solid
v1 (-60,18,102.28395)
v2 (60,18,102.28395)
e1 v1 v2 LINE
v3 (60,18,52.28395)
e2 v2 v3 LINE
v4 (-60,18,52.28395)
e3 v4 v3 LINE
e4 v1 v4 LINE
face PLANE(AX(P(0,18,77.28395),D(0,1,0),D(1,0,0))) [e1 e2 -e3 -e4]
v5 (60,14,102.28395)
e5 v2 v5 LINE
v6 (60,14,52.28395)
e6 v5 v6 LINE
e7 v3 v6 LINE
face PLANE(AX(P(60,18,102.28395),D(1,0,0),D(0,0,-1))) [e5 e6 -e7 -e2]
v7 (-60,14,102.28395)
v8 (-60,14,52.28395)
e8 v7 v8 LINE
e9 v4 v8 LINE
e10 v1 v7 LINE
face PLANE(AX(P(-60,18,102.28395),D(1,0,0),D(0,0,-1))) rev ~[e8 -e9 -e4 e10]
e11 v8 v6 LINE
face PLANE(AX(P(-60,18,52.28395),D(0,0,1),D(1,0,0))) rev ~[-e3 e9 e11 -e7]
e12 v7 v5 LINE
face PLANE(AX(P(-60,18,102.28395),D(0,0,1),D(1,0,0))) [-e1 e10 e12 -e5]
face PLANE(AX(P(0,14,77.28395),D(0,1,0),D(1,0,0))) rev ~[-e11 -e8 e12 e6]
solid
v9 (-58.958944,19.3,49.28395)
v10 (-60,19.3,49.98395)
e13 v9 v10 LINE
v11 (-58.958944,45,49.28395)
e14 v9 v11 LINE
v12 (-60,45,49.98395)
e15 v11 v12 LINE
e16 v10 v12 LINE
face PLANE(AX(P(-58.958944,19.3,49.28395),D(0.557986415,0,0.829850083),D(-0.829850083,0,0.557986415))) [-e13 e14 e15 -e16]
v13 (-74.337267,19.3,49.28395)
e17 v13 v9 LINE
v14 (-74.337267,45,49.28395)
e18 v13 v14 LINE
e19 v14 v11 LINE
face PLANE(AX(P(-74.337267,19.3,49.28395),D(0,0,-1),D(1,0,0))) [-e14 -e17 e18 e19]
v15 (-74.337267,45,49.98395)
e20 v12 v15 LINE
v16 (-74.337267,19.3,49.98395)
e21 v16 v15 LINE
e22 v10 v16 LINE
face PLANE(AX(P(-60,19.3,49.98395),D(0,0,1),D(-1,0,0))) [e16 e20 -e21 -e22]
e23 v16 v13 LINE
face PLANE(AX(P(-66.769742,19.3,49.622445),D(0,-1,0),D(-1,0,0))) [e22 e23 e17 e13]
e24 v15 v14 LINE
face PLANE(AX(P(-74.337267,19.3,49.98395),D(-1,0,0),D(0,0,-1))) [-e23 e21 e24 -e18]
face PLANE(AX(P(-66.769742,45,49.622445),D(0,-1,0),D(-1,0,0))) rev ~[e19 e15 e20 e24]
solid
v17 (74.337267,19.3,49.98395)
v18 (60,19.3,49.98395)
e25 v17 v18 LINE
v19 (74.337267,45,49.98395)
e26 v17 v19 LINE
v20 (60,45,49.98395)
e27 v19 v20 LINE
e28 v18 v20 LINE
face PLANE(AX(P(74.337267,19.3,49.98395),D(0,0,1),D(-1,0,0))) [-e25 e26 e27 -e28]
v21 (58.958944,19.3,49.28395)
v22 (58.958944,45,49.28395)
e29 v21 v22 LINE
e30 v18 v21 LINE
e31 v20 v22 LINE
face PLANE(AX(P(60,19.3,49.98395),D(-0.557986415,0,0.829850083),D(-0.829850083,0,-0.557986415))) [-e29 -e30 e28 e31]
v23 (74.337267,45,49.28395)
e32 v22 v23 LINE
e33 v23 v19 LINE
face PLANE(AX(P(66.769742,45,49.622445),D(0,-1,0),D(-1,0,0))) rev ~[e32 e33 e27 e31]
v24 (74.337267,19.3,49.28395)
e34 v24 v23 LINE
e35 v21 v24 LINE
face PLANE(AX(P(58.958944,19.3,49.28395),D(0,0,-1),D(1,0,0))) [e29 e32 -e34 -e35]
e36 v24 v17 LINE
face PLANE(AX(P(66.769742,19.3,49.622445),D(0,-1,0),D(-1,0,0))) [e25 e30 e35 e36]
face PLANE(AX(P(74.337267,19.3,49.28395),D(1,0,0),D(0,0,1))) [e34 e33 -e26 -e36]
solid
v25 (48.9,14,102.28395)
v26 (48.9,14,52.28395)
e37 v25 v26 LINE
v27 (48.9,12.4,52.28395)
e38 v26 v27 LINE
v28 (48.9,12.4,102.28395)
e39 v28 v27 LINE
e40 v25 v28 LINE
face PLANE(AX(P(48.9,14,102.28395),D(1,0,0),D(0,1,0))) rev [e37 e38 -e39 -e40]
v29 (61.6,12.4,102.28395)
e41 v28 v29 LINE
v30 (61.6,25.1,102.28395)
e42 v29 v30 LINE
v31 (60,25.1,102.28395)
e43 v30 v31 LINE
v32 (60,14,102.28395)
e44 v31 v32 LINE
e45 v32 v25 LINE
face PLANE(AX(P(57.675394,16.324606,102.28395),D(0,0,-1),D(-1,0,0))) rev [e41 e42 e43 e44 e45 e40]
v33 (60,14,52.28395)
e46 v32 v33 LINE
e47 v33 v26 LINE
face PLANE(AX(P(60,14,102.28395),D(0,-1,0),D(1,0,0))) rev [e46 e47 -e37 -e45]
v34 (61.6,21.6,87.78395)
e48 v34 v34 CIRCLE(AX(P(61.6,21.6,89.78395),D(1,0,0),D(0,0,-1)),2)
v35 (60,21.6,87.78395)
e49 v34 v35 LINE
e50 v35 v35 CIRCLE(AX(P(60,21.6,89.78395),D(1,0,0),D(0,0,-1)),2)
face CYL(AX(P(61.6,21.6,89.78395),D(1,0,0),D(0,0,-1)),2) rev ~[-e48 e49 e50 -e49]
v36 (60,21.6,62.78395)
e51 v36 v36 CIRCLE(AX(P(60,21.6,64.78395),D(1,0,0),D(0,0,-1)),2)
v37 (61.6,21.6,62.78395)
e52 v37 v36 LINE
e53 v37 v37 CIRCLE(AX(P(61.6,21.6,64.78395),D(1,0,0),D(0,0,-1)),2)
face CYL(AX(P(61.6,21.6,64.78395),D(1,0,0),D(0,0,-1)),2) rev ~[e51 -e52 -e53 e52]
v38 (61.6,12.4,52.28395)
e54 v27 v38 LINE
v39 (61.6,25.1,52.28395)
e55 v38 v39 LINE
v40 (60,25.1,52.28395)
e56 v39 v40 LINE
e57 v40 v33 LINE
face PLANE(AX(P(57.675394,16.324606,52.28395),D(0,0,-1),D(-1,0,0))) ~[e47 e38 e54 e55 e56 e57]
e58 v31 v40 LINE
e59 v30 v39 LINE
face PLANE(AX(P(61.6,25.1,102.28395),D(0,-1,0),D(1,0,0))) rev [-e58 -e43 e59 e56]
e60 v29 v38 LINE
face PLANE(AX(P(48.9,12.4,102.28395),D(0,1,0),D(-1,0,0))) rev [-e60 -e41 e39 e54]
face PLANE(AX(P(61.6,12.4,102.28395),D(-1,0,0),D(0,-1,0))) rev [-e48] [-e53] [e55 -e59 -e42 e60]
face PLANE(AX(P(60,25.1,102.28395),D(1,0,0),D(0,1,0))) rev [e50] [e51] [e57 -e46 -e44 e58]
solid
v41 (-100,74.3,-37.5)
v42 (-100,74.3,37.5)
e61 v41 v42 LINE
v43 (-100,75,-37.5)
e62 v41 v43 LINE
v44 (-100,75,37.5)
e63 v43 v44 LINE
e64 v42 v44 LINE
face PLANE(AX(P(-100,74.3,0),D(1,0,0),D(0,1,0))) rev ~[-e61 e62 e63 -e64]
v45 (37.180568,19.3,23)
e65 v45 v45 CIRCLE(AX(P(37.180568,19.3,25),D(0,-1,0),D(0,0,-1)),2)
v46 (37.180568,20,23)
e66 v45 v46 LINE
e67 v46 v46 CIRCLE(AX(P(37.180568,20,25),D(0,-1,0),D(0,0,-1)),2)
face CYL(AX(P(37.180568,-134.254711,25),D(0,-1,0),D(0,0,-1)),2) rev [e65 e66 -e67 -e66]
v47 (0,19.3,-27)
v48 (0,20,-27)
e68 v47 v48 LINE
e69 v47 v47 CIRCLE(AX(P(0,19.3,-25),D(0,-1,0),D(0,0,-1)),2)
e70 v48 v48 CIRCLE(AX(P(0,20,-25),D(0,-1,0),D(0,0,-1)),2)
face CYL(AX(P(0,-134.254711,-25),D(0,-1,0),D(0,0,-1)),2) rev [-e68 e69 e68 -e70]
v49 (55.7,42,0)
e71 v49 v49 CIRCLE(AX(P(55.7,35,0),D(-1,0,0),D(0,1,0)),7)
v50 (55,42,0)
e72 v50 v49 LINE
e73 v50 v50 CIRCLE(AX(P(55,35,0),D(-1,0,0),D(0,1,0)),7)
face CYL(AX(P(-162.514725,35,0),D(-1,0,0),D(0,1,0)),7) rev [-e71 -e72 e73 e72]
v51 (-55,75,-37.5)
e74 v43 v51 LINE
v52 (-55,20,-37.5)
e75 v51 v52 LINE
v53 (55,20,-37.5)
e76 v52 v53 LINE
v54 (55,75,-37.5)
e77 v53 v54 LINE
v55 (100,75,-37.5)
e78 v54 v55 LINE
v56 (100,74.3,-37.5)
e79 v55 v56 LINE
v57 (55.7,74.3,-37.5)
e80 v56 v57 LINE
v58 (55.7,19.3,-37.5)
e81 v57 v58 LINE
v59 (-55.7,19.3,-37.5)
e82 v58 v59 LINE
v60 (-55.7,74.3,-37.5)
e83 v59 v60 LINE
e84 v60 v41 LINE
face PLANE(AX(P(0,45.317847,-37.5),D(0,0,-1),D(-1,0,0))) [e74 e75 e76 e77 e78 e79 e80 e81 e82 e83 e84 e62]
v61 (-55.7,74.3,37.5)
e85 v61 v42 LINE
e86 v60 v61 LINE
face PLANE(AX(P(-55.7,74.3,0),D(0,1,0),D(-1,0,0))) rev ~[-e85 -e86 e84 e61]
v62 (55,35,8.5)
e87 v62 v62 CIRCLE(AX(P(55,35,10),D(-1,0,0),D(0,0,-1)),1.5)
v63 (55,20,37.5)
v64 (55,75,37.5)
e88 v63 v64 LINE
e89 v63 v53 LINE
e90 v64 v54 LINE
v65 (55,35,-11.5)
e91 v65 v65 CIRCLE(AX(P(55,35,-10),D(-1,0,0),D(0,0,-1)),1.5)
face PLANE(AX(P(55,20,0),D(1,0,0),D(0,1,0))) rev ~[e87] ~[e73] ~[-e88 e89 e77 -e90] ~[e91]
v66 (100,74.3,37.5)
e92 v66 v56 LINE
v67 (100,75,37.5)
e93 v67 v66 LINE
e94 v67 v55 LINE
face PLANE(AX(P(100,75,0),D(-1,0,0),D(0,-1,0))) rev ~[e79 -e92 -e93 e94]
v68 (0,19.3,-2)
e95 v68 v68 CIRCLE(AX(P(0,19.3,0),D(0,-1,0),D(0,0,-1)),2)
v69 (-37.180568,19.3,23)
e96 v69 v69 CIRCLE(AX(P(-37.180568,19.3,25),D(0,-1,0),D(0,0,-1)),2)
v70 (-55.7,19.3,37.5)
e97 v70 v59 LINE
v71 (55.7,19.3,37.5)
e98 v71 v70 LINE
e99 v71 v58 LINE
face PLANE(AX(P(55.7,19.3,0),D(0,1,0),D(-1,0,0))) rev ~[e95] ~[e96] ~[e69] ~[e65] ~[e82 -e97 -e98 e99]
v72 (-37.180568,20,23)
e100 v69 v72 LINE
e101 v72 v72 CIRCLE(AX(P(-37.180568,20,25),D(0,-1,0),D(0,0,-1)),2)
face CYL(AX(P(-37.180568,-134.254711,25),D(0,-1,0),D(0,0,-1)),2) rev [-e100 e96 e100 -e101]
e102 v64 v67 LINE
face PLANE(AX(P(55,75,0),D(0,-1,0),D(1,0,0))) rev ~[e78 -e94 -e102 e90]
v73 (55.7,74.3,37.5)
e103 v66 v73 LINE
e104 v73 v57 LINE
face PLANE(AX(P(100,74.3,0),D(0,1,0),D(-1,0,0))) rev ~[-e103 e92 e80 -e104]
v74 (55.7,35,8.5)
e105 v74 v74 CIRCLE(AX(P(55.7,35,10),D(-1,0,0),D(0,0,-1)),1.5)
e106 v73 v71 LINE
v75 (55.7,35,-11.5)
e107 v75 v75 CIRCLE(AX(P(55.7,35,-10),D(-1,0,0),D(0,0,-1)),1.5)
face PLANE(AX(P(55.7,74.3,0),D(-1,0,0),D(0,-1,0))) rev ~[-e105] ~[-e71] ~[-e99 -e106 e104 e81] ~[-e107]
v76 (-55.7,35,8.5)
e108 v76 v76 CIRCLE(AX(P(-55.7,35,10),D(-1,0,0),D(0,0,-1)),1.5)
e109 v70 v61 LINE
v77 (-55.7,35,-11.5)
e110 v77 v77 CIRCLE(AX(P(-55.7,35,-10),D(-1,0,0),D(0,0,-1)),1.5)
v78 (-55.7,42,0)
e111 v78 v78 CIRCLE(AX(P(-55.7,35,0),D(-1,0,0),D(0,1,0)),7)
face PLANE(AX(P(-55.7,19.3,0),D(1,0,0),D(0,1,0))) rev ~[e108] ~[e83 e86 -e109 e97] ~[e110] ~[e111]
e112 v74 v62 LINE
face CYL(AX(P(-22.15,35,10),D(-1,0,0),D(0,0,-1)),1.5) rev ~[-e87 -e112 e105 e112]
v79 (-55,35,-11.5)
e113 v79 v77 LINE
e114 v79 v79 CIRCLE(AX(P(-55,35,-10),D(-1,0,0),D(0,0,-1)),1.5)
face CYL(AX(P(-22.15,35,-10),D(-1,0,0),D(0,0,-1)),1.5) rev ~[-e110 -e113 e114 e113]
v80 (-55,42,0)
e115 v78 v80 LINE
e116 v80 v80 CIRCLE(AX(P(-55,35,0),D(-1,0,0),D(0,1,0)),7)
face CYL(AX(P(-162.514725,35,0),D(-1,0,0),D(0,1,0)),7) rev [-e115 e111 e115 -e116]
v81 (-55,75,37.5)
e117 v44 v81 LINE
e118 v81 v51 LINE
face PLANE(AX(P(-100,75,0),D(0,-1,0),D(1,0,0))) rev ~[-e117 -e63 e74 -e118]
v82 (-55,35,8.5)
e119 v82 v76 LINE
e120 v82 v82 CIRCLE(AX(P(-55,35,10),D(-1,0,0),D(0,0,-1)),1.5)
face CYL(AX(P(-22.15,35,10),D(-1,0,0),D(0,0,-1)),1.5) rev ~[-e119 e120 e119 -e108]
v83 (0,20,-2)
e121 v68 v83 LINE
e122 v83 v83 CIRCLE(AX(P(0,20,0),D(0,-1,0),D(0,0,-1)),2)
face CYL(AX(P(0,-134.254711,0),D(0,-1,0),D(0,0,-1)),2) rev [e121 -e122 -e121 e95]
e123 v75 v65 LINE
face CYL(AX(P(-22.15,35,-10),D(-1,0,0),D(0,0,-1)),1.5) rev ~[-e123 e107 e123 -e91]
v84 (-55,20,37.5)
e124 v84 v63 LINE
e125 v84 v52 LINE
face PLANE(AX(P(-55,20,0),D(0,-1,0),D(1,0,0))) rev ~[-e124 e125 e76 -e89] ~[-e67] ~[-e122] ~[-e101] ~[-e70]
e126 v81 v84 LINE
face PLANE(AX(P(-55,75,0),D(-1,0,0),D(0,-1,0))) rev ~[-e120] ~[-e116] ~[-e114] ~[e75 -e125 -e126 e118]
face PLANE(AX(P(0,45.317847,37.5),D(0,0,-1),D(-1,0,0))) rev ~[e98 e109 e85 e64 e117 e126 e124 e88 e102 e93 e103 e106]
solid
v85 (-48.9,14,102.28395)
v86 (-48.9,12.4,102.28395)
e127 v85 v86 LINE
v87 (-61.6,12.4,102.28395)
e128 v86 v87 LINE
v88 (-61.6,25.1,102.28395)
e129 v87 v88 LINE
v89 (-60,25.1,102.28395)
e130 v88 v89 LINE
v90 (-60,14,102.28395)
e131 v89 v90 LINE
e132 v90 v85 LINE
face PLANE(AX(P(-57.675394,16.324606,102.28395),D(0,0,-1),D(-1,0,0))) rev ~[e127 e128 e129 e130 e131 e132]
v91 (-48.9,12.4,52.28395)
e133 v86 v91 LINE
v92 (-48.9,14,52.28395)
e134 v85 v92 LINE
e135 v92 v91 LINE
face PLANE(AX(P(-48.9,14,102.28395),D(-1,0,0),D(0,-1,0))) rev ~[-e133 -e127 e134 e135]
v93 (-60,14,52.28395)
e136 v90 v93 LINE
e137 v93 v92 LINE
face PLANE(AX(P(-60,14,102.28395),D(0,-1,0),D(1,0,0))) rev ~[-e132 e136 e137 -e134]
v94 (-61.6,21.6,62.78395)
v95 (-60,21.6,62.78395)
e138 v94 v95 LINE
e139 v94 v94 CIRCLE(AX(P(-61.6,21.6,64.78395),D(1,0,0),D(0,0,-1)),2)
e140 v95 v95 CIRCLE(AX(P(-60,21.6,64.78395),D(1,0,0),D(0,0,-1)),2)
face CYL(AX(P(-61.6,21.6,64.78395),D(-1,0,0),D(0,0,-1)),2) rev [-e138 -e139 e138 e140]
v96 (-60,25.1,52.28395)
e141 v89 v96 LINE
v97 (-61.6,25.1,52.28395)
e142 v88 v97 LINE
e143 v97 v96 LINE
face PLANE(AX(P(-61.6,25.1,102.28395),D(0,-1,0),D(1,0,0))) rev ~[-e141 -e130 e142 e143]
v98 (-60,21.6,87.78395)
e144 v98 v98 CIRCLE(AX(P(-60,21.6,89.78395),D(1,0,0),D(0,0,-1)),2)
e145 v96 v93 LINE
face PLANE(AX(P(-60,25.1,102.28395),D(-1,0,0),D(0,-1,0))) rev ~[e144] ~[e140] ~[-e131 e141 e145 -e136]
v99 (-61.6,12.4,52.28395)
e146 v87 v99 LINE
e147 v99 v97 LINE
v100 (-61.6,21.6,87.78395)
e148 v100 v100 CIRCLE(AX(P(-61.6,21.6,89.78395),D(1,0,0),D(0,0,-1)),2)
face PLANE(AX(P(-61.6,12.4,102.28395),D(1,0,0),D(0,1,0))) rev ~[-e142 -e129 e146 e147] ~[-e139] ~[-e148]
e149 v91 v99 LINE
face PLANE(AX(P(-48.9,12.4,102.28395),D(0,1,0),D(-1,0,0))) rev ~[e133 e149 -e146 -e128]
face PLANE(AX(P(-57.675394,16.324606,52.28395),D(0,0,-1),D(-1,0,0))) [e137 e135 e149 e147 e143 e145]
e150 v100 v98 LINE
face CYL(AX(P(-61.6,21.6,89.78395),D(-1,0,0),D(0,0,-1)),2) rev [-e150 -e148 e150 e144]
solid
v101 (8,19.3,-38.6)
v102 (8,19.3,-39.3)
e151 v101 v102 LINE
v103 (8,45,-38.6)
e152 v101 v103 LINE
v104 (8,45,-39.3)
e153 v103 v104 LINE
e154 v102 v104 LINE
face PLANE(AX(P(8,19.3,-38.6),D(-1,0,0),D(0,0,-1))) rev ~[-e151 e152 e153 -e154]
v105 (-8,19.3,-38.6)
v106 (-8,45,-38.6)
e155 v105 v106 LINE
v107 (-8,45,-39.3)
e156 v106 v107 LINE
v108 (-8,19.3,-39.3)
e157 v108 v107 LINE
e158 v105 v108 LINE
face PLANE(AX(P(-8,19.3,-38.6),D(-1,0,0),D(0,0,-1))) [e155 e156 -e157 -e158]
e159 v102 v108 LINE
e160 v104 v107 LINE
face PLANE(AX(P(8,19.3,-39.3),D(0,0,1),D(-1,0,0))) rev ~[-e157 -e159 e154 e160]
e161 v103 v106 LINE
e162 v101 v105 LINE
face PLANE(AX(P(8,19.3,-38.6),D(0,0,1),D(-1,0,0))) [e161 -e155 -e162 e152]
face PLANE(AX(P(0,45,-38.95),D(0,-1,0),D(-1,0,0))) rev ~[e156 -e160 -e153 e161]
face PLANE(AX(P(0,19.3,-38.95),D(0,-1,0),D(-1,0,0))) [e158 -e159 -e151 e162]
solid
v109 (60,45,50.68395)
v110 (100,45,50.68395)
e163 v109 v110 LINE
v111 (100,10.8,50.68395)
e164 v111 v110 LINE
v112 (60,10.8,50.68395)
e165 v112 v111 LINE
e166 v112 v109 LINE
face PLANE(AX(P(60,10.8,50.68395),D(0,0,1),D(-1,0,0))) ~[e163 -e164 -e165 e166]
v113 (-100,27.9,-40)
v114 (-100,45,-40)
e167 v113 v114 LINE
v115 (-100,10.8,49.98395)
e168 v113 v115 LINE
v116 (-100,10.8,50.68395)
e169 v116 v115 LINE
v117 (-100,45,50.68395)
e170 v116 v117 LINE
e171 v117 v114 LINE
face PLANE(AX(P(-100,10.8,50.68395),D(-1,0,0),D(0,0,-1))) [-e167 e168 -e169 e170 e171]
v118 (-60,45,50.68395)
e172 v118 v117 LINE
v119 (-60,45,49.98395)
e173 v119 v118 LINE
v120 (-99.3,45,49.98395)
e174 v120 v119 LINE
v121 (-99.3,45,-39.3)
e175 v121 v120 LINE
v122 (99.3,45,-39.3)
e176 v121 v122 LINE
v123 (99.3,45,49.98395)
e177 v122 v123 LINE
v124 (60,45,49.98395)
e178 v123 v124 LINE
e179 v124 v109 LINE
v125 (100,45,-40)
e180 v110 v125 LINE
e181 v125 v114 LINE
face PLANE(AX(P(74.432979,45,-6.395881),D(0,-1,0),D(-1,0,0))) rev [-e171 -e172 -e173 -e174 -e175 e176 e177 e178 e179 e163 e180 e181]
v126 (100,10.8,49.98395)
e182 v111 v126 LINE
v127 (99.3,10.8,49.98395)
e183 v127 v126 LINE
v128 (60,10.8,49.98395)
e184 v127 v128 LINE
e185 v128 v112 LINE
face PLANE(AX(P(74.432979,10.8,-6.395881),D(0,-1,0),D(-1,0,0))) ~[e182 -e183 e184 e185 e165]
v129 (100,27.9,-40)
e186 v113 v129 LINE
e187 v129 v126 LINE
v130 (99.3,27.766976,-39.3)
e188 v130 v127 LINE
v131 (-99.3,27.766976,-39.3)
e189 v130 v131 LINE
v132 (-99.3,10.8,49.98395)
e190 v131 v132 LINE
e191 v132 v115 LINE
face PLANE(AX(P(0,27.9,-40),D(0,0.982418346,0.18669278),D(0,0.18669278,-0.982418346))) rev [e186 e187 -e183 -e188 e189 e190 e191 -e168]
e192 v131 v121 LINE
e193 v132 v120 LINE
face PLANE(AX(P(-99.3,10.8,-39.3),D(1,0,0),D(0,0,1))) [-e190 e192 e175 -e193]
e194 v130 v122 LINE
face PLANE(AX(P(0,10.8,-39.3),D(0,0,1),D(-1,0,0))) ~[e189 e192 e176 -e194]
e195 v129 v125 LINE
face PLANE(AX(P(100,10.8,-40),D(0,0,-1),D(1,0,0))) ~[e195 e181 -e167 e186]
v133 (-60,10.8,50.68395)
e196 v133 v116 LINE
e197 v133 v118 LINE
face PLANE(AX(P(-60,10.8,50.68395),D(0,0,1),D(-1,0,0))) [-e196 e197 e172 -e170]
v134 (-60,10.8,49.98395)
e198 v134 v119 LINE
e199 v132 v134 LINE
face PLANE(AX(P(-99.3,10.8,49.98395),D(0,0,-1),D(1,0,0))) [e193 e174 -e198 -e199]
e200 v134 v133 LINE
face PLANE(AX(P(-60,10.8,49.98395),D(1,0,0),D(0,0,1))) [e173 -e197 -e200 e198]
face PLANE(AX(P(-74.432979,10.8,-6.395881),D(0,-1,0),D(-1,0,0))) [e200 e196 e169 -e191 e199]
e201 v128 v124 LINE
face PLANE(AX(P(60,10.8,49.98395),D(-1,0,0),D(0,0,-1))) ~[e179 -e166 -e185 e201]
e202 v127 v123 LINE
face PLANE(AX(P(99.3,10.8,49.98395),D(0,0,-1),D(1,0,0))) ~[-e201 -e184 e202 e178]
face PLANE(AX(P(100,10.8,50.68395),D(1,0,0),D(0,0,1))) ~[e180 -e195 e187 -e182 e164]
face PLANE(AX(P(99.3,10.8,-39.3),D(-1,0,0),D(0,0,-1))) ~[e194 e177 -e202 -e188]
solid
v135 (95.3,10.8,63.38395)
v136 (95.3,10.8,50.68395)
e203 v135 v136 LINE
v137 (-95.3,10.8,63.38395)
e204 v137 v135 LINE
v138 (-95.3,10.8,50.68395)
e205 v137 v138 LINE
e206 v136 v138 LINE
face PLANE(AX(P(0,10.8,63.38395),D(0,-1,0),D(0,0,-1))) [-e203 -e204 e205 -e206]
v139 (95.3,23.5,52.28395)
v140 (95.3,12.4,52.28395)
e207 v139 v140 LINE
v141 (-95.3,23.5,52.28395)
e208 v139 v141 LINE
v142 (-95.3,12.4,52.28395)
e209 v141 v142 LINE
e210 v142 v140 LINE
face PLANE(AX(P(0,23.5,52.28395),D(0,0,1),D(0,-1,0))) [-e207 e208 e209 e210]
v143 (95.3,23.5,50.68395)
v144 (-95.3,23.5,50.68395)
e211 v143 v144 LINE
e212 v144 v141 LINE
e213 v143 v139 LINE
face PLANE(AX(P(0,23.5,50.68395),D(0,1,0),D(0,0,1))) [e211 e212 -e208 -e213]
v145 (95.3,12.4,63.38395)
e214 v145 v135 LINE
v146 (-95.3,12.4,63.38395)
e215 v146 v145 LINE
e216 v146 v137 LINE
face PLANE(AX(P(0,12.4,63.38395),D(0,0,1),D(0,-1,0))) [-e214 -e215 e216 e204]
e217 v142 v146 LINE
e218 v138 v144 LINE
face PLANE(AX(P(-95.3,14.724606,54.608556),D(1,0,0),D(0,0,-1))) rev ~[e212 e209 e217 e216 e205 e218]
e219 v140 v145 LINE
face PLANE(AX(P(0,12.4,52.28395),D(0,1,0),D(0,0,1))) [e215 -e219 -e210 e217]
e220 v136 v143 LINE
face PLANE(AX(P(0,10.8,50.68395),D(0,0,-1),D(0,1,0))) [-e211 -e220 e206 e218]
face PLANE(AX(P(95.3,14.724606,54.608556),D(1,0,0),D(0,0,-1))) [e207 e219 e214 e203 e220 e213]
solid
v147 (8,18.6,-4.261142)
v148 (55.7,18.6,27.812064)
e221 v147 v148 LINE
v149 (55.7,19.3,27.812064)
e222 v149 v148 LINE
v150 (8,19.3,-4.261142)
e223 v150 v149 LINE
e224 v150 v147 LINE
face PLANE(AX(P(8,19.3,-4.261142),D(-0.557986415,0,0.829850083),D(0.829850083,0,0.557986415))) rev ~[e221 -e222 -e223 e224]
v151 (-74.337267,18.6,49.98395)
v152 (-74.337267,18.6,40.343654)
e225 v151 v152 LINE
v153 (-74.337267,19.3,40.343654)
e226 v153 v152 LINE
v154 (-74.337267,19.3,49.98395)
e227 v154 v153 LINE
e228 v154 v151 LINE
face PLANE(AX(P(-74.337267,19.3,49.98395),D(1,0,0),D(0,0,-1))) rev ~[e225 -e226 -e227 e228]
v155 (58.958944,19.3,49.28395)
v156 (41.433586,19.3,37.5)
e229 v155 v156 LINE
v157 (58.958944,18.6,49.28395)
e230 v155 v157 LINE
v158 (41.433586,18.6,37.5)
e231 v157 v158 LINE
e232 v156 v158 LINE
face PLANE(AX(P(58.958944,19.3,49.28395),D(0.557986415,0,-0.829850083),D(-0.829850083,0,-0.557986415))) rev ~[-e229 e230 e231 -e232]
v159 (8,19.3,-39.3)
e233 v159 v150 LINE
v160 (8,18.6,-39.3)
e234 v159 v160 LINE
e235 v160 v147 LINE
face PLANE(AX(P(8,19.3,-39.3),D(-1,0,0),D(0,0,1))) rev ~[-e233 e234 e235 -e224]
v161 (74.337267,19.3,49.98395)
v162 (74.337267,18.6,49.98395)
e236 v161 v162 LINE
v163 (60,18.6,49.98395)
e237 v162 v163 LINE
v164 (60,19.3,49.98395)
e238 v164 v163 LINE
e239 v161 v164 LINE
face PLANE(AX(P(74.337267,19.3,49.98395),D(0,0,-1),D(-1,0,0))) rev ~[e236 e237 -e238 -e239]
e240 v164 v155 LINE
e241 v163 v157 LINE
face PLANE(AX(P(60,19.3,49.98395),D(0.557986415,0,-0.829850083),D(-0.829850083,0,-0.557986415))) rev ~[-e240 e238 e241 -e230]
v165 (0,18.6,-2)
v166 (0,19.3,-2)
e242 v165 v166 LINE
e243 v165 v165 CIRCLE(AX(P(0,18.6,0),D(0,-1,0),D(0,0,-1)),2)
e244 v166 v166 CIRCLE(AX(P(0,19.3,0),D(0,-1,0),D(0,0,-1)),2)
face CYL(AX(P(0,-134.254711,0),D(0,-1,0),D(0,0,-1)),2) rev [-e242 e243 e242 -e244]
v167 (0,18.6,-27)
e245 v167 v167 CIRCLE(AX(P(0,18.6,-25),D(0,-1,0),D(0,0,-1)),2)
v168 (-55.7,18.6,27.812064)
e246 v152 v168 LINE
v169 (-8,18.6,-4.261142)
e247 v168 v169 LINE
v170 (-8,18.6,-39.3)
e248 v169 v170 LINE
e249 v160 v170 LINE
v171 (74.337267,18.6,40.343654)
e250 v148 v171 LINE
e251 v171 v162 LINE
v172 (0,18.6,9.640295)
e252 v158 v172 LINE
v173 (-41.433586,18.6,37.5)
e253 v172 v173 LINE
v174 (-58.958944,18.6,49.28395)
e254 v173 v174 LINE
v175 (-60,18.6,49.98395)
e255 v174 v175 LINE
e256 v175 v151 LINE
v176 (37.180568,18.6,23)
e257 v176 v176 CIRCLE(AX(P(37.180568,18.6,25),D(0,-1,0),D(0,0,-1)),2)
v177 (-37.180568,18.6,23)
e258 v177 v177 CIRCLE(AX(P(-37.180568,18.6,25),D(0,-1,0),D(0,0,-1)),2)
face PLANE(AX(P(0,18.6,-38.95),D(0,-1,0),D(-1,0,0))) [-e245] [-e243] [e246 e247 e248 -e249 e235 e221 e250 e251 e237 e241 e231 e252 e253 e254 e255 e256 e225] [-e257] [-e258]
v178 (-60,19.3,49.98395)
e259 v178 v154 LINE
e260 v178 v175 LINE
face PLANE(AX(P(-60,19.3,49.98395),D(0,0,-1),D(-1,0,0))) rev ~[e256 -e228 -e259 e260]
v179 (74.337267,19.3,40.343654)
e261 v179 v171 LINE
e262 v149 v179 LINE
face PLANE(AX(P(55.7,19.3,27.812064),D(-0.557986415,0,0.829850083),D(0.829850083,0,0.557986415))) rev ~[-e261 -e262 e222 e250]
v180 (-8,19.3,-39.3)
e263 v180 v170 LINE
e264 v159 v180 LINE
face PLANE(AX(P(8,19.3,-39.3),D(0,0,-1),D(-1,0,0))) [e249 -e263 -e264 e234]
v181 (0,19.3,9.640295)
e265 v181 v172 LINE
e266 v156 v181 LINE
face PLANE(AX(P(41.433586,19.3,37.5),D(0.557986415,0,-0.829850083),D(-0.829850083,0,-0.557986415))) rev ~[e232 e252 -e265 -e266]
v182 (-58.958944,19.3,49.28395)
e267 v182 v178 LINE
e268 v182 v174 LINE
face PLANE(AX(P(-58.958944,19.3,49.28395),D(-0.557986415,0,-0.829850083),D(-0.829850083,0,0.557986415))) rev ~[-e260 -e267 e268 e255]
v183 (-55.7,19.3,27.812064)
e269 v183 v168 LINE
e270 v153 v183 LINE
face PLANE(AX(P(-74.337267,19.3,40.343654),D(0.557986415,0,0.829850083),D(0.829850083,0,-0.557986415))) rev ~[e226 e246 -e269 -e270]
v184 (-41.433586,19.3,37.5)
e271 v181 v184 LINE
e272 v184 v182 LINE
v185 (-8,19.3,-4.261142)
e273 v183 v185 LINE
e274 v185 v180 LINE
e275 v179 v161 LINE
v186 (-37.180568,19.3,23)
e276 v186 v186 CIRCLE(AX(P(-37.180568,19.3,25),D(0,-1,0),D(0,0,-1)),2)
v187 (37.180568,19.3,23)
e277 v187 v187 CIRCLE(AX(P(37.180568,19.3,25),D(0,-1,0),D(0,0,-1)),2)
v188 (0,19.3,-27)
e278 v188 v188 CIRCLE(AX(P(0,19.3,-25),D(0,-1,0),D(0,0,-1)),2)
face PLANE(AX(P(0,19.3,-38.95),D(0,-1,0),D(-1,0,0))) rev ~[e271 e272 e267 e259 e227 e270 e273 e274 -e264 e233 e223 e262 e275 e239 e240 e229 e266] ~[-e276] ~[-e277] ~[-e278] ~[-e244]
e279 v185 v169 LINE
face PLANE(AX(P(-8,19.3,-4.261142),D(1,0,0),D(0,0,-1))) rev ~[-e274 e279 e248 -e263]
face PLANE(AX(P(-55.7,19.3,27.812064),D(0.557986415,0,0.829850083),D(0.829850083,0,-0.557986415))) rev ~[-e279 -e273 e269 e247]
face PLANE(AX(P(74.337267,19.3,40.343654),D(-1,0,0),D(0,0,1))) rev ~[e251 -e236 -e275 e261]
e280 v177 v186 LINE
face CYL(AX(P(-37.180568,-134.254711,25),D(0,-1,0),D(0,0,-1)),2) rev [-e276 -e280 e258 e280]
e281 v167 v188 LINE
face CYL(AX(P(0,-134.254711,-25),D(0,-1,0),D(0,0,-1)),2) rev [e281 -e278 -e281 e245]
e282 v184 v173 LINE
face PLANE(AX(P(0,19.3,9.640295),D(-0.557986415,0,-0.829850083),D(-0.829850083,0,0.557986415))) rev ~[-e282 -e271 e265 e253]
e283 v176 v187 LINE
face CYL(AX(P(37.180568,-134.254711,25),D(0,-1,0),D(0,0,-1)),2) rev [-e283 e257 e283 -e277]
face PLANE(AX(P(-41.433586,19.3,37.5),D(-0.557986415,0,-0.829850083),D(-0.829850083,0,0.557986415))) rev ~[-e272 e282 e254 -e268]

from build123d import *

# Parameters (mm, degrees)
PLATFORM_START                 = 18
SKETCH2_W                      = 120
SKETCH2_H                      = 50
PLATFORM_DEPTH                 = 4
ALU_ANGLE_PLATFORM_REST_DEPTH  = 95.3
PLATFORM_ANGLE_RH_DEPTH        = 50
CUT_EXTRUDE2_START             = -61.6
SKETCH19_R                     = 2
CUT_EXTRUDE2_DEPTH             = 1.6
OUTER_START                    = 10.8
OUTER_FRAME_DEPTH              = 34.2
CUT_EXTRUDE_THIN1_REACH        = 151.957
EXTRUDE_THIN3_DEPTH            = 37.5
CUT_EXTRUDE3_DEPTH             = 162.514725016
CUT_EXTRUDE3_DEPTH_BACK        = 162.514725016
DRIVE_AXLE_HOLES_R             = 7
DRIVE_AXLE_HOLES_R_2           = 5
SKETCH26_W                     = 1.5
SKETCH26_H                     = 155.7
F_3_0MM_DOWEL_HOLE1_AT_2_COUNT = 2
F_3_0MM_DOWEL_HOLE1_AT_2_PITCH = 20
SKETCH27_W                     = 16
SKETCH27_H                     = 0.7
SKETCH27_H_2                   = 1.1
BOSS_EXTRUDE1_DEPTH            = 0.7
SKETCH27_3_W                   = 16
SKETCH27_3_H                   = 0.7
BOSS_EXTRUDE2_DEPTH            = 25.7
BOSS_EXTRUDE2_2_DEPTH          = 25.7
BOSS_EXTRUDE2_3_DEPTH          = 25.7
CUT_EXTRUDE4_DEPTH             = 154.254710848
CUT_EXTRUDE4_DEPTH_BACK        = 154.254710848
SKETCH28_R                     = 2


with BuildPart() as part:
    # Sketch2 → Platform (new body)
    with BuildSketch(Plane(origin=(0, 0, 0), x_dir=(1, 0, 0), z_dir=(0, 1, 0)).offset(PLATFORM_START)):
        with Locations((0, -77.28394985)):
            Rectangle(SKETCH2_W, SKETCH2_H)
    extrude(amount=-PLATFORM_DEPTH)


with BuildPart() as body_2:
    # Sketch3 → Alu Angle Platform Rest (new, symmetric)
    with BuildSketch(Plane(origin=(0, 0, 0), x_dir=(0, 0, -1), z_dir=(1, 0, 0))):
        Polygon((-52.28394985, 23.5), (-52.28394985, 12.4), (-63.38394985, 12.4), (-63.38394985, 10.8), (-50.68394985, 10.8), (-50.68394985, 23.5), align=None)
    extrude(amount=ALU_ANGLE_PLATFORM_REST_DEPTH, both=True)


with BuildPart() as body_3:
    # Sketch8 → Platform Angle RH (new body)
    with BuildSketch(Plane.XY.offset(102.28394985)):
        Polygon((-48.9, 12.4), (-61.6, 12.4), (-61.6, 25.1), (-60, 25.1), (-60, 14), (-48.9, 14), align=None)
    extrude(amount=-PLATFORM_ANGLE_RH_DEPTH)

    # Sketch19 → Cut-Extrude2 (cut)
    with BuildSketch(Plane(origin=(0, 0, 0), x_dir=(0, 0, -1), z_dir=(1, 0, 0)).offset(CUT_EXTRUDE2_START)):
        with Locations((-89.78394985, 21.6)):
            Circle(SKETCH19_R)
        with Locations((-64.78394985, 21.6)):
            Circle(SKETCH19_R)
    extrude(amount=CUT_EXTRUDE2_DEPTH, mode=Mode.SUBTRACT)


with BuildPart() as body_4:
    # Platform Angle LH: mirrored copy
    add(body_3.part.mirror(Plane(origin=(0, 0, 0), x_dir=(0, 0, 1), z_dir=(1, 0, 0))))


with BuildPart() as body_5:
    # Sketch20 → Outer Frame (new body)
    with BuildSketch(Plane(origin=(0, 0, 0), x_dir=(1, 0, 0), z_dir=(0, 1, 0)).offset(OUTER_START)):
        Polygon((-60, -50.68394985), (-100, -50.68394985), (-100, 40), (0, 40), (0, 39.3), (-99.3, 39.3), (-99.3, -49.98394985), (-60, -49.98394985), align=None)
    extrude(amount=OUTER_FRAME_DEPTH)

    # Cut-Extrude-Thin1: up to this face of the body (flat: up to its plane)
    cut_extrude_thin1_end = Plane(body_5.part.faces().sort_by_distance((-100, 27.9, 5.341974925))[0])
    # Sketch22 → Cut-Extrude-Thin1 (cut, up to the picked face)
    with BuildSketch(Plane(origin=(0, 0, 0), x_dir=(0, 0, -1), z_dir=(1, 0, 0)), mode=Mode.PRIVATE) as cut_extrude_thin1_sk1:
        Polygon((40, 27.9), (-49.98394985, 10.8), (-49.853264905, 10.112307158), (40.130684946, 27.212307158), align=None)
    cut_extrude_thin1_tool1 = split(extrude(cut_extrude_thin1_sk1.sketch, amount=-CUT_EXTRUDE_THIN1_REACH, mode=Mode.PRIVATE), bisect_by=cut_extrude_thin1_end, keep=Keep.BOTH, mode=Mode.PRIVATE)
    add(cut_extrude_thin1_tool1.solids().sort_by(Axis((0, 19.006154, 4.926632), (-1, 0, 0)))[0], mode=Mode.SUBTRACT)


with BuildPart() as body_6:
    # of the pieces the cut leaves, the one that is kept (cut_extrude_thin1_keep)
    add(body_5.part.solids().sort_by_distance((-60, 10.8, 50.68394985))[0])

    # Mirror1: body 6 across plane


with BuildPart() as body_6_1:
    add(body_6.part)
    add(body_6.part.mirror(Plane(origin=(0, 0, 0), x_dir=(0, 0, 1), z_dir=(1, 0, 0))))


with BuildPart() as body_6_2:
    # Sketch24 → Extrude-Thin3 (new, symmetric)
    with BuildSketch(Plane.XY):
        Polygon((-100, 75), (-55, 75), (-55, 20), (55, 20), (55, 75), (100, 75), (100, 74.3), (55.7, 74.3), (55.7, 19.3), (-55.7, 19.3), (-55.7, 74.3), (-100, 74.3), align=None)
    extrude(amount=EXTRUDE_THIN3_DEPTH, both=True)

    # Drive Axle Holes → Cut-Extrude3 (cut, two sides: drawn at the far end of the back side and taken through both)
    # profile 1 of 2: a face of its own
    with BuildSketch(Plane(origin=(0, 0, 0), x_dir=(0, 0, -1), z_dir=(1, 0, 0)).offset(-CUT_EXTRUDE3_DEPTH_BACK)):
        with Locations(Location((0, 35, 0), (0, 0, 90))):
            Circle(DRIVE_AXLE_HOLES_R)
        with Locations((0, 35)):
            Circle(DRIVE_AXLE_HOLES_R_2, mode=Mode.SUBTRACT)
    # profile 2 of 2: a face of its own
    with BuildSketch(Plane(origin=(0, 0, 0), x_dir=(0, 0, -1), z_dir=(1, 0, 0)).offset(-CUT_EXTRUDE3_DEPTH_BACK)):
        with Locations((0, 35)):
            Circle(DRIVE_AXLE_HOLES_R_2)
    extrude(amount=CUT_EXTRUDE3_DEPTH + CUT_EXTRUDE3_DEPTH_BACK, mode=Mode.SUBTRACT)

    # Sketch26 → Ø3.0mm Dowel Hole1 (revolve, cut)
    with BuildSketch(Plane(origin=(55.7, 35, 10), x_dir=(0, 0, -1), z_dir=(0, 1, 0))):
        with Locations((0.75, 77.85)):
            Rectangle(SKETCH26_W, SKETCH26_H)
    f_3_0mm_dowel_hole1 = revolve(axis=Axis((62.05, 35, 10), (-1, 0, 0)), mode=Mode.SUBTRACT)

    # Ø3.0mm Dowel Hole1 at 2: Ø3.0mm Dowel Hole1 ×2
    with Locations(*[(0, 0, -i * F_3_0MM_DOWEL_HOLE1_AT_2_PITCH) for i in range(1, F_3_0MM_DOWEL_HOLE1_AT_2_COUNT)]):
        add(f_3_0mm_dowel_hole1, mode=Mode.SUBTRACT)


with BuildPart() as body_7:
    # Sketch27 → Boss-Extrude1 (new body)
    with BuildSketch(Plane(origin=(0, 19.3, 0), x_dir=(-1, 0, 0), z_dir=(0, -1, 0))):
        with Locations((0, 38.95)):
            Rectangle(SKETCH27_W, SKETCH27_H)
        with Locations((0, 38.05)):
            Rectangle(SKETCH27_W, SKETCH27_H_2)
        Polygon((55.7, -37.5), (55.7, -27.812063669), (8, 4.261141559), (8, 37.5), (-8, 37.5), (-8, 4.261141559), (-55.7, -27.812063669), (-55.7, -37.5), (-41.43358596, -37.5), (0, -9.640295476), (41.43358596, -37.5), align=None)
        Polygon((74.337266604, -49.28394985), (74.337266604, -40.343654375), (55.7, -27.812063669), (55.7, -37.5), (41.43358596, -37.5), (58.958944085, -49.28394985), align=None)
        Polygon((74.337266604, -49.98394985), (74.337266604, -49.28394985), (58.958944085, -49.28394985), (60, -49.98394985), align=None)
        Polygon((-58.958944085, -49.28394985), (-41.43358596, -37.5), (-55.7, -37.5), (-55.7, -27.812063669), (-74.337266604, -40.343654375), (-74.337266604, -49.28394985), align=None)
        Polygon((-60, -49.98394985), (-58.958944085, -49.28394985), (-74.337266604, -49.28394985), (-74.337266604, -49.98394985), align=None)
    extrude(amount=BOSS_EXTRUDE1_DEPTH)


with BuildPart() as body_8:
    # Sketch27<3> → Boss-Extrude2 (new body)
    with BuildSketch(Plane(origin=(0, 19.3, 0), x_dir=(-1, 0, 0), z_dir=(0, -1, 0))):
        with Locations((0, 38.95)):
            Rectangle(SKETCH27_3_W, SKETCH27_3_H)
    extrude(amount=-BOSS_EXTRUDE2_DEPTH)


with BuildPart() as body_9:
    # Sketch27<3> → Boss-Extrude2 2 (new body)
    with BuildSketch(Plane(origin=(0, 19.3, 0), x_dir=(-1, 0, 0), z_dir=(0, -1, 0))):
        Polygon((-60, -49.98394985), (-58.958944085, -49.28394985), (-74.337266604, -49.28394985), (-74.337266604, -49.98394985), align=None)
    extrude(amount=-BOSS_EXTRUDE2_2_DEPTH)


with BuildPart() as body_10:
    # Sketch27<3> → Boss-Extrude2 3 (new body)
    with BuildSketch(Plane(origin=(0, 19.3, 0), x_dir=(-1, 0, 0), z_dir=(0, -1, 0))):
        Polygon((74.337266604, -49.98394985), (74.337266604, -49.28394985), (58.958944085, -49.28394985), (60, -49.98394985), align=None)
    extrude(amount=-BOSS_EXTRUDE2_3_DEPTH)


with BuildPart() as cut_extrude4_tool:
    # Sketch28 → Cut-Extrude4 (new, two sides: drawn at the far end of the back side and taken through both)
    with BuildSketch(Plane(origin=(0, 20, 0), x_dir=(1, 0, 0), z_dir=(0, 1, 0)).offset(-CUT_EXTRUDE4_DEPTH_BACK)):
        with Locations(Location((0, 0, 0), (0, 0, 90))):
            Circle(SKETCH28_R)
        with Locations(Location((0, 25, 0), (0, 0, 90))):
            Circle(SKETCH28_R)
        with Locations(Location((-37.180568376, -25, 0), (0, 0, 90))):
            Circle(SKETCH28_R)
        with Locations(Location((37.180568376, -25, 0), (0, 0, 90))):
            Circle(SKETCH28_R)
    extrude(amount=CUT_EXTRUDE4_DEPTH + CUT_EXTRUDE4_DEPTH_BACK)


with BuildPart() as body_6_2_1:
    add(body_6_2.part)

    # Cut-Extrude4: cut by cut_extrude4_tool
    add(cut_extrude4_tool.part, mode=Mode.SUBTRACT)


with BuildPart() as body_7_1:
    add(body_7.part)

    # Cut-Extrude4: cut by cut_extrude4_tool
    add(cut_extrude4_tool.part, mode=Mode.SUBTRACT)


solid = Compound([part.part, body_2.part, body_3.part, body_4.part, body_6_1.part, body_8.part, body_9.part, body_10.part, body_6_2_1.part, body_7_1.part])
